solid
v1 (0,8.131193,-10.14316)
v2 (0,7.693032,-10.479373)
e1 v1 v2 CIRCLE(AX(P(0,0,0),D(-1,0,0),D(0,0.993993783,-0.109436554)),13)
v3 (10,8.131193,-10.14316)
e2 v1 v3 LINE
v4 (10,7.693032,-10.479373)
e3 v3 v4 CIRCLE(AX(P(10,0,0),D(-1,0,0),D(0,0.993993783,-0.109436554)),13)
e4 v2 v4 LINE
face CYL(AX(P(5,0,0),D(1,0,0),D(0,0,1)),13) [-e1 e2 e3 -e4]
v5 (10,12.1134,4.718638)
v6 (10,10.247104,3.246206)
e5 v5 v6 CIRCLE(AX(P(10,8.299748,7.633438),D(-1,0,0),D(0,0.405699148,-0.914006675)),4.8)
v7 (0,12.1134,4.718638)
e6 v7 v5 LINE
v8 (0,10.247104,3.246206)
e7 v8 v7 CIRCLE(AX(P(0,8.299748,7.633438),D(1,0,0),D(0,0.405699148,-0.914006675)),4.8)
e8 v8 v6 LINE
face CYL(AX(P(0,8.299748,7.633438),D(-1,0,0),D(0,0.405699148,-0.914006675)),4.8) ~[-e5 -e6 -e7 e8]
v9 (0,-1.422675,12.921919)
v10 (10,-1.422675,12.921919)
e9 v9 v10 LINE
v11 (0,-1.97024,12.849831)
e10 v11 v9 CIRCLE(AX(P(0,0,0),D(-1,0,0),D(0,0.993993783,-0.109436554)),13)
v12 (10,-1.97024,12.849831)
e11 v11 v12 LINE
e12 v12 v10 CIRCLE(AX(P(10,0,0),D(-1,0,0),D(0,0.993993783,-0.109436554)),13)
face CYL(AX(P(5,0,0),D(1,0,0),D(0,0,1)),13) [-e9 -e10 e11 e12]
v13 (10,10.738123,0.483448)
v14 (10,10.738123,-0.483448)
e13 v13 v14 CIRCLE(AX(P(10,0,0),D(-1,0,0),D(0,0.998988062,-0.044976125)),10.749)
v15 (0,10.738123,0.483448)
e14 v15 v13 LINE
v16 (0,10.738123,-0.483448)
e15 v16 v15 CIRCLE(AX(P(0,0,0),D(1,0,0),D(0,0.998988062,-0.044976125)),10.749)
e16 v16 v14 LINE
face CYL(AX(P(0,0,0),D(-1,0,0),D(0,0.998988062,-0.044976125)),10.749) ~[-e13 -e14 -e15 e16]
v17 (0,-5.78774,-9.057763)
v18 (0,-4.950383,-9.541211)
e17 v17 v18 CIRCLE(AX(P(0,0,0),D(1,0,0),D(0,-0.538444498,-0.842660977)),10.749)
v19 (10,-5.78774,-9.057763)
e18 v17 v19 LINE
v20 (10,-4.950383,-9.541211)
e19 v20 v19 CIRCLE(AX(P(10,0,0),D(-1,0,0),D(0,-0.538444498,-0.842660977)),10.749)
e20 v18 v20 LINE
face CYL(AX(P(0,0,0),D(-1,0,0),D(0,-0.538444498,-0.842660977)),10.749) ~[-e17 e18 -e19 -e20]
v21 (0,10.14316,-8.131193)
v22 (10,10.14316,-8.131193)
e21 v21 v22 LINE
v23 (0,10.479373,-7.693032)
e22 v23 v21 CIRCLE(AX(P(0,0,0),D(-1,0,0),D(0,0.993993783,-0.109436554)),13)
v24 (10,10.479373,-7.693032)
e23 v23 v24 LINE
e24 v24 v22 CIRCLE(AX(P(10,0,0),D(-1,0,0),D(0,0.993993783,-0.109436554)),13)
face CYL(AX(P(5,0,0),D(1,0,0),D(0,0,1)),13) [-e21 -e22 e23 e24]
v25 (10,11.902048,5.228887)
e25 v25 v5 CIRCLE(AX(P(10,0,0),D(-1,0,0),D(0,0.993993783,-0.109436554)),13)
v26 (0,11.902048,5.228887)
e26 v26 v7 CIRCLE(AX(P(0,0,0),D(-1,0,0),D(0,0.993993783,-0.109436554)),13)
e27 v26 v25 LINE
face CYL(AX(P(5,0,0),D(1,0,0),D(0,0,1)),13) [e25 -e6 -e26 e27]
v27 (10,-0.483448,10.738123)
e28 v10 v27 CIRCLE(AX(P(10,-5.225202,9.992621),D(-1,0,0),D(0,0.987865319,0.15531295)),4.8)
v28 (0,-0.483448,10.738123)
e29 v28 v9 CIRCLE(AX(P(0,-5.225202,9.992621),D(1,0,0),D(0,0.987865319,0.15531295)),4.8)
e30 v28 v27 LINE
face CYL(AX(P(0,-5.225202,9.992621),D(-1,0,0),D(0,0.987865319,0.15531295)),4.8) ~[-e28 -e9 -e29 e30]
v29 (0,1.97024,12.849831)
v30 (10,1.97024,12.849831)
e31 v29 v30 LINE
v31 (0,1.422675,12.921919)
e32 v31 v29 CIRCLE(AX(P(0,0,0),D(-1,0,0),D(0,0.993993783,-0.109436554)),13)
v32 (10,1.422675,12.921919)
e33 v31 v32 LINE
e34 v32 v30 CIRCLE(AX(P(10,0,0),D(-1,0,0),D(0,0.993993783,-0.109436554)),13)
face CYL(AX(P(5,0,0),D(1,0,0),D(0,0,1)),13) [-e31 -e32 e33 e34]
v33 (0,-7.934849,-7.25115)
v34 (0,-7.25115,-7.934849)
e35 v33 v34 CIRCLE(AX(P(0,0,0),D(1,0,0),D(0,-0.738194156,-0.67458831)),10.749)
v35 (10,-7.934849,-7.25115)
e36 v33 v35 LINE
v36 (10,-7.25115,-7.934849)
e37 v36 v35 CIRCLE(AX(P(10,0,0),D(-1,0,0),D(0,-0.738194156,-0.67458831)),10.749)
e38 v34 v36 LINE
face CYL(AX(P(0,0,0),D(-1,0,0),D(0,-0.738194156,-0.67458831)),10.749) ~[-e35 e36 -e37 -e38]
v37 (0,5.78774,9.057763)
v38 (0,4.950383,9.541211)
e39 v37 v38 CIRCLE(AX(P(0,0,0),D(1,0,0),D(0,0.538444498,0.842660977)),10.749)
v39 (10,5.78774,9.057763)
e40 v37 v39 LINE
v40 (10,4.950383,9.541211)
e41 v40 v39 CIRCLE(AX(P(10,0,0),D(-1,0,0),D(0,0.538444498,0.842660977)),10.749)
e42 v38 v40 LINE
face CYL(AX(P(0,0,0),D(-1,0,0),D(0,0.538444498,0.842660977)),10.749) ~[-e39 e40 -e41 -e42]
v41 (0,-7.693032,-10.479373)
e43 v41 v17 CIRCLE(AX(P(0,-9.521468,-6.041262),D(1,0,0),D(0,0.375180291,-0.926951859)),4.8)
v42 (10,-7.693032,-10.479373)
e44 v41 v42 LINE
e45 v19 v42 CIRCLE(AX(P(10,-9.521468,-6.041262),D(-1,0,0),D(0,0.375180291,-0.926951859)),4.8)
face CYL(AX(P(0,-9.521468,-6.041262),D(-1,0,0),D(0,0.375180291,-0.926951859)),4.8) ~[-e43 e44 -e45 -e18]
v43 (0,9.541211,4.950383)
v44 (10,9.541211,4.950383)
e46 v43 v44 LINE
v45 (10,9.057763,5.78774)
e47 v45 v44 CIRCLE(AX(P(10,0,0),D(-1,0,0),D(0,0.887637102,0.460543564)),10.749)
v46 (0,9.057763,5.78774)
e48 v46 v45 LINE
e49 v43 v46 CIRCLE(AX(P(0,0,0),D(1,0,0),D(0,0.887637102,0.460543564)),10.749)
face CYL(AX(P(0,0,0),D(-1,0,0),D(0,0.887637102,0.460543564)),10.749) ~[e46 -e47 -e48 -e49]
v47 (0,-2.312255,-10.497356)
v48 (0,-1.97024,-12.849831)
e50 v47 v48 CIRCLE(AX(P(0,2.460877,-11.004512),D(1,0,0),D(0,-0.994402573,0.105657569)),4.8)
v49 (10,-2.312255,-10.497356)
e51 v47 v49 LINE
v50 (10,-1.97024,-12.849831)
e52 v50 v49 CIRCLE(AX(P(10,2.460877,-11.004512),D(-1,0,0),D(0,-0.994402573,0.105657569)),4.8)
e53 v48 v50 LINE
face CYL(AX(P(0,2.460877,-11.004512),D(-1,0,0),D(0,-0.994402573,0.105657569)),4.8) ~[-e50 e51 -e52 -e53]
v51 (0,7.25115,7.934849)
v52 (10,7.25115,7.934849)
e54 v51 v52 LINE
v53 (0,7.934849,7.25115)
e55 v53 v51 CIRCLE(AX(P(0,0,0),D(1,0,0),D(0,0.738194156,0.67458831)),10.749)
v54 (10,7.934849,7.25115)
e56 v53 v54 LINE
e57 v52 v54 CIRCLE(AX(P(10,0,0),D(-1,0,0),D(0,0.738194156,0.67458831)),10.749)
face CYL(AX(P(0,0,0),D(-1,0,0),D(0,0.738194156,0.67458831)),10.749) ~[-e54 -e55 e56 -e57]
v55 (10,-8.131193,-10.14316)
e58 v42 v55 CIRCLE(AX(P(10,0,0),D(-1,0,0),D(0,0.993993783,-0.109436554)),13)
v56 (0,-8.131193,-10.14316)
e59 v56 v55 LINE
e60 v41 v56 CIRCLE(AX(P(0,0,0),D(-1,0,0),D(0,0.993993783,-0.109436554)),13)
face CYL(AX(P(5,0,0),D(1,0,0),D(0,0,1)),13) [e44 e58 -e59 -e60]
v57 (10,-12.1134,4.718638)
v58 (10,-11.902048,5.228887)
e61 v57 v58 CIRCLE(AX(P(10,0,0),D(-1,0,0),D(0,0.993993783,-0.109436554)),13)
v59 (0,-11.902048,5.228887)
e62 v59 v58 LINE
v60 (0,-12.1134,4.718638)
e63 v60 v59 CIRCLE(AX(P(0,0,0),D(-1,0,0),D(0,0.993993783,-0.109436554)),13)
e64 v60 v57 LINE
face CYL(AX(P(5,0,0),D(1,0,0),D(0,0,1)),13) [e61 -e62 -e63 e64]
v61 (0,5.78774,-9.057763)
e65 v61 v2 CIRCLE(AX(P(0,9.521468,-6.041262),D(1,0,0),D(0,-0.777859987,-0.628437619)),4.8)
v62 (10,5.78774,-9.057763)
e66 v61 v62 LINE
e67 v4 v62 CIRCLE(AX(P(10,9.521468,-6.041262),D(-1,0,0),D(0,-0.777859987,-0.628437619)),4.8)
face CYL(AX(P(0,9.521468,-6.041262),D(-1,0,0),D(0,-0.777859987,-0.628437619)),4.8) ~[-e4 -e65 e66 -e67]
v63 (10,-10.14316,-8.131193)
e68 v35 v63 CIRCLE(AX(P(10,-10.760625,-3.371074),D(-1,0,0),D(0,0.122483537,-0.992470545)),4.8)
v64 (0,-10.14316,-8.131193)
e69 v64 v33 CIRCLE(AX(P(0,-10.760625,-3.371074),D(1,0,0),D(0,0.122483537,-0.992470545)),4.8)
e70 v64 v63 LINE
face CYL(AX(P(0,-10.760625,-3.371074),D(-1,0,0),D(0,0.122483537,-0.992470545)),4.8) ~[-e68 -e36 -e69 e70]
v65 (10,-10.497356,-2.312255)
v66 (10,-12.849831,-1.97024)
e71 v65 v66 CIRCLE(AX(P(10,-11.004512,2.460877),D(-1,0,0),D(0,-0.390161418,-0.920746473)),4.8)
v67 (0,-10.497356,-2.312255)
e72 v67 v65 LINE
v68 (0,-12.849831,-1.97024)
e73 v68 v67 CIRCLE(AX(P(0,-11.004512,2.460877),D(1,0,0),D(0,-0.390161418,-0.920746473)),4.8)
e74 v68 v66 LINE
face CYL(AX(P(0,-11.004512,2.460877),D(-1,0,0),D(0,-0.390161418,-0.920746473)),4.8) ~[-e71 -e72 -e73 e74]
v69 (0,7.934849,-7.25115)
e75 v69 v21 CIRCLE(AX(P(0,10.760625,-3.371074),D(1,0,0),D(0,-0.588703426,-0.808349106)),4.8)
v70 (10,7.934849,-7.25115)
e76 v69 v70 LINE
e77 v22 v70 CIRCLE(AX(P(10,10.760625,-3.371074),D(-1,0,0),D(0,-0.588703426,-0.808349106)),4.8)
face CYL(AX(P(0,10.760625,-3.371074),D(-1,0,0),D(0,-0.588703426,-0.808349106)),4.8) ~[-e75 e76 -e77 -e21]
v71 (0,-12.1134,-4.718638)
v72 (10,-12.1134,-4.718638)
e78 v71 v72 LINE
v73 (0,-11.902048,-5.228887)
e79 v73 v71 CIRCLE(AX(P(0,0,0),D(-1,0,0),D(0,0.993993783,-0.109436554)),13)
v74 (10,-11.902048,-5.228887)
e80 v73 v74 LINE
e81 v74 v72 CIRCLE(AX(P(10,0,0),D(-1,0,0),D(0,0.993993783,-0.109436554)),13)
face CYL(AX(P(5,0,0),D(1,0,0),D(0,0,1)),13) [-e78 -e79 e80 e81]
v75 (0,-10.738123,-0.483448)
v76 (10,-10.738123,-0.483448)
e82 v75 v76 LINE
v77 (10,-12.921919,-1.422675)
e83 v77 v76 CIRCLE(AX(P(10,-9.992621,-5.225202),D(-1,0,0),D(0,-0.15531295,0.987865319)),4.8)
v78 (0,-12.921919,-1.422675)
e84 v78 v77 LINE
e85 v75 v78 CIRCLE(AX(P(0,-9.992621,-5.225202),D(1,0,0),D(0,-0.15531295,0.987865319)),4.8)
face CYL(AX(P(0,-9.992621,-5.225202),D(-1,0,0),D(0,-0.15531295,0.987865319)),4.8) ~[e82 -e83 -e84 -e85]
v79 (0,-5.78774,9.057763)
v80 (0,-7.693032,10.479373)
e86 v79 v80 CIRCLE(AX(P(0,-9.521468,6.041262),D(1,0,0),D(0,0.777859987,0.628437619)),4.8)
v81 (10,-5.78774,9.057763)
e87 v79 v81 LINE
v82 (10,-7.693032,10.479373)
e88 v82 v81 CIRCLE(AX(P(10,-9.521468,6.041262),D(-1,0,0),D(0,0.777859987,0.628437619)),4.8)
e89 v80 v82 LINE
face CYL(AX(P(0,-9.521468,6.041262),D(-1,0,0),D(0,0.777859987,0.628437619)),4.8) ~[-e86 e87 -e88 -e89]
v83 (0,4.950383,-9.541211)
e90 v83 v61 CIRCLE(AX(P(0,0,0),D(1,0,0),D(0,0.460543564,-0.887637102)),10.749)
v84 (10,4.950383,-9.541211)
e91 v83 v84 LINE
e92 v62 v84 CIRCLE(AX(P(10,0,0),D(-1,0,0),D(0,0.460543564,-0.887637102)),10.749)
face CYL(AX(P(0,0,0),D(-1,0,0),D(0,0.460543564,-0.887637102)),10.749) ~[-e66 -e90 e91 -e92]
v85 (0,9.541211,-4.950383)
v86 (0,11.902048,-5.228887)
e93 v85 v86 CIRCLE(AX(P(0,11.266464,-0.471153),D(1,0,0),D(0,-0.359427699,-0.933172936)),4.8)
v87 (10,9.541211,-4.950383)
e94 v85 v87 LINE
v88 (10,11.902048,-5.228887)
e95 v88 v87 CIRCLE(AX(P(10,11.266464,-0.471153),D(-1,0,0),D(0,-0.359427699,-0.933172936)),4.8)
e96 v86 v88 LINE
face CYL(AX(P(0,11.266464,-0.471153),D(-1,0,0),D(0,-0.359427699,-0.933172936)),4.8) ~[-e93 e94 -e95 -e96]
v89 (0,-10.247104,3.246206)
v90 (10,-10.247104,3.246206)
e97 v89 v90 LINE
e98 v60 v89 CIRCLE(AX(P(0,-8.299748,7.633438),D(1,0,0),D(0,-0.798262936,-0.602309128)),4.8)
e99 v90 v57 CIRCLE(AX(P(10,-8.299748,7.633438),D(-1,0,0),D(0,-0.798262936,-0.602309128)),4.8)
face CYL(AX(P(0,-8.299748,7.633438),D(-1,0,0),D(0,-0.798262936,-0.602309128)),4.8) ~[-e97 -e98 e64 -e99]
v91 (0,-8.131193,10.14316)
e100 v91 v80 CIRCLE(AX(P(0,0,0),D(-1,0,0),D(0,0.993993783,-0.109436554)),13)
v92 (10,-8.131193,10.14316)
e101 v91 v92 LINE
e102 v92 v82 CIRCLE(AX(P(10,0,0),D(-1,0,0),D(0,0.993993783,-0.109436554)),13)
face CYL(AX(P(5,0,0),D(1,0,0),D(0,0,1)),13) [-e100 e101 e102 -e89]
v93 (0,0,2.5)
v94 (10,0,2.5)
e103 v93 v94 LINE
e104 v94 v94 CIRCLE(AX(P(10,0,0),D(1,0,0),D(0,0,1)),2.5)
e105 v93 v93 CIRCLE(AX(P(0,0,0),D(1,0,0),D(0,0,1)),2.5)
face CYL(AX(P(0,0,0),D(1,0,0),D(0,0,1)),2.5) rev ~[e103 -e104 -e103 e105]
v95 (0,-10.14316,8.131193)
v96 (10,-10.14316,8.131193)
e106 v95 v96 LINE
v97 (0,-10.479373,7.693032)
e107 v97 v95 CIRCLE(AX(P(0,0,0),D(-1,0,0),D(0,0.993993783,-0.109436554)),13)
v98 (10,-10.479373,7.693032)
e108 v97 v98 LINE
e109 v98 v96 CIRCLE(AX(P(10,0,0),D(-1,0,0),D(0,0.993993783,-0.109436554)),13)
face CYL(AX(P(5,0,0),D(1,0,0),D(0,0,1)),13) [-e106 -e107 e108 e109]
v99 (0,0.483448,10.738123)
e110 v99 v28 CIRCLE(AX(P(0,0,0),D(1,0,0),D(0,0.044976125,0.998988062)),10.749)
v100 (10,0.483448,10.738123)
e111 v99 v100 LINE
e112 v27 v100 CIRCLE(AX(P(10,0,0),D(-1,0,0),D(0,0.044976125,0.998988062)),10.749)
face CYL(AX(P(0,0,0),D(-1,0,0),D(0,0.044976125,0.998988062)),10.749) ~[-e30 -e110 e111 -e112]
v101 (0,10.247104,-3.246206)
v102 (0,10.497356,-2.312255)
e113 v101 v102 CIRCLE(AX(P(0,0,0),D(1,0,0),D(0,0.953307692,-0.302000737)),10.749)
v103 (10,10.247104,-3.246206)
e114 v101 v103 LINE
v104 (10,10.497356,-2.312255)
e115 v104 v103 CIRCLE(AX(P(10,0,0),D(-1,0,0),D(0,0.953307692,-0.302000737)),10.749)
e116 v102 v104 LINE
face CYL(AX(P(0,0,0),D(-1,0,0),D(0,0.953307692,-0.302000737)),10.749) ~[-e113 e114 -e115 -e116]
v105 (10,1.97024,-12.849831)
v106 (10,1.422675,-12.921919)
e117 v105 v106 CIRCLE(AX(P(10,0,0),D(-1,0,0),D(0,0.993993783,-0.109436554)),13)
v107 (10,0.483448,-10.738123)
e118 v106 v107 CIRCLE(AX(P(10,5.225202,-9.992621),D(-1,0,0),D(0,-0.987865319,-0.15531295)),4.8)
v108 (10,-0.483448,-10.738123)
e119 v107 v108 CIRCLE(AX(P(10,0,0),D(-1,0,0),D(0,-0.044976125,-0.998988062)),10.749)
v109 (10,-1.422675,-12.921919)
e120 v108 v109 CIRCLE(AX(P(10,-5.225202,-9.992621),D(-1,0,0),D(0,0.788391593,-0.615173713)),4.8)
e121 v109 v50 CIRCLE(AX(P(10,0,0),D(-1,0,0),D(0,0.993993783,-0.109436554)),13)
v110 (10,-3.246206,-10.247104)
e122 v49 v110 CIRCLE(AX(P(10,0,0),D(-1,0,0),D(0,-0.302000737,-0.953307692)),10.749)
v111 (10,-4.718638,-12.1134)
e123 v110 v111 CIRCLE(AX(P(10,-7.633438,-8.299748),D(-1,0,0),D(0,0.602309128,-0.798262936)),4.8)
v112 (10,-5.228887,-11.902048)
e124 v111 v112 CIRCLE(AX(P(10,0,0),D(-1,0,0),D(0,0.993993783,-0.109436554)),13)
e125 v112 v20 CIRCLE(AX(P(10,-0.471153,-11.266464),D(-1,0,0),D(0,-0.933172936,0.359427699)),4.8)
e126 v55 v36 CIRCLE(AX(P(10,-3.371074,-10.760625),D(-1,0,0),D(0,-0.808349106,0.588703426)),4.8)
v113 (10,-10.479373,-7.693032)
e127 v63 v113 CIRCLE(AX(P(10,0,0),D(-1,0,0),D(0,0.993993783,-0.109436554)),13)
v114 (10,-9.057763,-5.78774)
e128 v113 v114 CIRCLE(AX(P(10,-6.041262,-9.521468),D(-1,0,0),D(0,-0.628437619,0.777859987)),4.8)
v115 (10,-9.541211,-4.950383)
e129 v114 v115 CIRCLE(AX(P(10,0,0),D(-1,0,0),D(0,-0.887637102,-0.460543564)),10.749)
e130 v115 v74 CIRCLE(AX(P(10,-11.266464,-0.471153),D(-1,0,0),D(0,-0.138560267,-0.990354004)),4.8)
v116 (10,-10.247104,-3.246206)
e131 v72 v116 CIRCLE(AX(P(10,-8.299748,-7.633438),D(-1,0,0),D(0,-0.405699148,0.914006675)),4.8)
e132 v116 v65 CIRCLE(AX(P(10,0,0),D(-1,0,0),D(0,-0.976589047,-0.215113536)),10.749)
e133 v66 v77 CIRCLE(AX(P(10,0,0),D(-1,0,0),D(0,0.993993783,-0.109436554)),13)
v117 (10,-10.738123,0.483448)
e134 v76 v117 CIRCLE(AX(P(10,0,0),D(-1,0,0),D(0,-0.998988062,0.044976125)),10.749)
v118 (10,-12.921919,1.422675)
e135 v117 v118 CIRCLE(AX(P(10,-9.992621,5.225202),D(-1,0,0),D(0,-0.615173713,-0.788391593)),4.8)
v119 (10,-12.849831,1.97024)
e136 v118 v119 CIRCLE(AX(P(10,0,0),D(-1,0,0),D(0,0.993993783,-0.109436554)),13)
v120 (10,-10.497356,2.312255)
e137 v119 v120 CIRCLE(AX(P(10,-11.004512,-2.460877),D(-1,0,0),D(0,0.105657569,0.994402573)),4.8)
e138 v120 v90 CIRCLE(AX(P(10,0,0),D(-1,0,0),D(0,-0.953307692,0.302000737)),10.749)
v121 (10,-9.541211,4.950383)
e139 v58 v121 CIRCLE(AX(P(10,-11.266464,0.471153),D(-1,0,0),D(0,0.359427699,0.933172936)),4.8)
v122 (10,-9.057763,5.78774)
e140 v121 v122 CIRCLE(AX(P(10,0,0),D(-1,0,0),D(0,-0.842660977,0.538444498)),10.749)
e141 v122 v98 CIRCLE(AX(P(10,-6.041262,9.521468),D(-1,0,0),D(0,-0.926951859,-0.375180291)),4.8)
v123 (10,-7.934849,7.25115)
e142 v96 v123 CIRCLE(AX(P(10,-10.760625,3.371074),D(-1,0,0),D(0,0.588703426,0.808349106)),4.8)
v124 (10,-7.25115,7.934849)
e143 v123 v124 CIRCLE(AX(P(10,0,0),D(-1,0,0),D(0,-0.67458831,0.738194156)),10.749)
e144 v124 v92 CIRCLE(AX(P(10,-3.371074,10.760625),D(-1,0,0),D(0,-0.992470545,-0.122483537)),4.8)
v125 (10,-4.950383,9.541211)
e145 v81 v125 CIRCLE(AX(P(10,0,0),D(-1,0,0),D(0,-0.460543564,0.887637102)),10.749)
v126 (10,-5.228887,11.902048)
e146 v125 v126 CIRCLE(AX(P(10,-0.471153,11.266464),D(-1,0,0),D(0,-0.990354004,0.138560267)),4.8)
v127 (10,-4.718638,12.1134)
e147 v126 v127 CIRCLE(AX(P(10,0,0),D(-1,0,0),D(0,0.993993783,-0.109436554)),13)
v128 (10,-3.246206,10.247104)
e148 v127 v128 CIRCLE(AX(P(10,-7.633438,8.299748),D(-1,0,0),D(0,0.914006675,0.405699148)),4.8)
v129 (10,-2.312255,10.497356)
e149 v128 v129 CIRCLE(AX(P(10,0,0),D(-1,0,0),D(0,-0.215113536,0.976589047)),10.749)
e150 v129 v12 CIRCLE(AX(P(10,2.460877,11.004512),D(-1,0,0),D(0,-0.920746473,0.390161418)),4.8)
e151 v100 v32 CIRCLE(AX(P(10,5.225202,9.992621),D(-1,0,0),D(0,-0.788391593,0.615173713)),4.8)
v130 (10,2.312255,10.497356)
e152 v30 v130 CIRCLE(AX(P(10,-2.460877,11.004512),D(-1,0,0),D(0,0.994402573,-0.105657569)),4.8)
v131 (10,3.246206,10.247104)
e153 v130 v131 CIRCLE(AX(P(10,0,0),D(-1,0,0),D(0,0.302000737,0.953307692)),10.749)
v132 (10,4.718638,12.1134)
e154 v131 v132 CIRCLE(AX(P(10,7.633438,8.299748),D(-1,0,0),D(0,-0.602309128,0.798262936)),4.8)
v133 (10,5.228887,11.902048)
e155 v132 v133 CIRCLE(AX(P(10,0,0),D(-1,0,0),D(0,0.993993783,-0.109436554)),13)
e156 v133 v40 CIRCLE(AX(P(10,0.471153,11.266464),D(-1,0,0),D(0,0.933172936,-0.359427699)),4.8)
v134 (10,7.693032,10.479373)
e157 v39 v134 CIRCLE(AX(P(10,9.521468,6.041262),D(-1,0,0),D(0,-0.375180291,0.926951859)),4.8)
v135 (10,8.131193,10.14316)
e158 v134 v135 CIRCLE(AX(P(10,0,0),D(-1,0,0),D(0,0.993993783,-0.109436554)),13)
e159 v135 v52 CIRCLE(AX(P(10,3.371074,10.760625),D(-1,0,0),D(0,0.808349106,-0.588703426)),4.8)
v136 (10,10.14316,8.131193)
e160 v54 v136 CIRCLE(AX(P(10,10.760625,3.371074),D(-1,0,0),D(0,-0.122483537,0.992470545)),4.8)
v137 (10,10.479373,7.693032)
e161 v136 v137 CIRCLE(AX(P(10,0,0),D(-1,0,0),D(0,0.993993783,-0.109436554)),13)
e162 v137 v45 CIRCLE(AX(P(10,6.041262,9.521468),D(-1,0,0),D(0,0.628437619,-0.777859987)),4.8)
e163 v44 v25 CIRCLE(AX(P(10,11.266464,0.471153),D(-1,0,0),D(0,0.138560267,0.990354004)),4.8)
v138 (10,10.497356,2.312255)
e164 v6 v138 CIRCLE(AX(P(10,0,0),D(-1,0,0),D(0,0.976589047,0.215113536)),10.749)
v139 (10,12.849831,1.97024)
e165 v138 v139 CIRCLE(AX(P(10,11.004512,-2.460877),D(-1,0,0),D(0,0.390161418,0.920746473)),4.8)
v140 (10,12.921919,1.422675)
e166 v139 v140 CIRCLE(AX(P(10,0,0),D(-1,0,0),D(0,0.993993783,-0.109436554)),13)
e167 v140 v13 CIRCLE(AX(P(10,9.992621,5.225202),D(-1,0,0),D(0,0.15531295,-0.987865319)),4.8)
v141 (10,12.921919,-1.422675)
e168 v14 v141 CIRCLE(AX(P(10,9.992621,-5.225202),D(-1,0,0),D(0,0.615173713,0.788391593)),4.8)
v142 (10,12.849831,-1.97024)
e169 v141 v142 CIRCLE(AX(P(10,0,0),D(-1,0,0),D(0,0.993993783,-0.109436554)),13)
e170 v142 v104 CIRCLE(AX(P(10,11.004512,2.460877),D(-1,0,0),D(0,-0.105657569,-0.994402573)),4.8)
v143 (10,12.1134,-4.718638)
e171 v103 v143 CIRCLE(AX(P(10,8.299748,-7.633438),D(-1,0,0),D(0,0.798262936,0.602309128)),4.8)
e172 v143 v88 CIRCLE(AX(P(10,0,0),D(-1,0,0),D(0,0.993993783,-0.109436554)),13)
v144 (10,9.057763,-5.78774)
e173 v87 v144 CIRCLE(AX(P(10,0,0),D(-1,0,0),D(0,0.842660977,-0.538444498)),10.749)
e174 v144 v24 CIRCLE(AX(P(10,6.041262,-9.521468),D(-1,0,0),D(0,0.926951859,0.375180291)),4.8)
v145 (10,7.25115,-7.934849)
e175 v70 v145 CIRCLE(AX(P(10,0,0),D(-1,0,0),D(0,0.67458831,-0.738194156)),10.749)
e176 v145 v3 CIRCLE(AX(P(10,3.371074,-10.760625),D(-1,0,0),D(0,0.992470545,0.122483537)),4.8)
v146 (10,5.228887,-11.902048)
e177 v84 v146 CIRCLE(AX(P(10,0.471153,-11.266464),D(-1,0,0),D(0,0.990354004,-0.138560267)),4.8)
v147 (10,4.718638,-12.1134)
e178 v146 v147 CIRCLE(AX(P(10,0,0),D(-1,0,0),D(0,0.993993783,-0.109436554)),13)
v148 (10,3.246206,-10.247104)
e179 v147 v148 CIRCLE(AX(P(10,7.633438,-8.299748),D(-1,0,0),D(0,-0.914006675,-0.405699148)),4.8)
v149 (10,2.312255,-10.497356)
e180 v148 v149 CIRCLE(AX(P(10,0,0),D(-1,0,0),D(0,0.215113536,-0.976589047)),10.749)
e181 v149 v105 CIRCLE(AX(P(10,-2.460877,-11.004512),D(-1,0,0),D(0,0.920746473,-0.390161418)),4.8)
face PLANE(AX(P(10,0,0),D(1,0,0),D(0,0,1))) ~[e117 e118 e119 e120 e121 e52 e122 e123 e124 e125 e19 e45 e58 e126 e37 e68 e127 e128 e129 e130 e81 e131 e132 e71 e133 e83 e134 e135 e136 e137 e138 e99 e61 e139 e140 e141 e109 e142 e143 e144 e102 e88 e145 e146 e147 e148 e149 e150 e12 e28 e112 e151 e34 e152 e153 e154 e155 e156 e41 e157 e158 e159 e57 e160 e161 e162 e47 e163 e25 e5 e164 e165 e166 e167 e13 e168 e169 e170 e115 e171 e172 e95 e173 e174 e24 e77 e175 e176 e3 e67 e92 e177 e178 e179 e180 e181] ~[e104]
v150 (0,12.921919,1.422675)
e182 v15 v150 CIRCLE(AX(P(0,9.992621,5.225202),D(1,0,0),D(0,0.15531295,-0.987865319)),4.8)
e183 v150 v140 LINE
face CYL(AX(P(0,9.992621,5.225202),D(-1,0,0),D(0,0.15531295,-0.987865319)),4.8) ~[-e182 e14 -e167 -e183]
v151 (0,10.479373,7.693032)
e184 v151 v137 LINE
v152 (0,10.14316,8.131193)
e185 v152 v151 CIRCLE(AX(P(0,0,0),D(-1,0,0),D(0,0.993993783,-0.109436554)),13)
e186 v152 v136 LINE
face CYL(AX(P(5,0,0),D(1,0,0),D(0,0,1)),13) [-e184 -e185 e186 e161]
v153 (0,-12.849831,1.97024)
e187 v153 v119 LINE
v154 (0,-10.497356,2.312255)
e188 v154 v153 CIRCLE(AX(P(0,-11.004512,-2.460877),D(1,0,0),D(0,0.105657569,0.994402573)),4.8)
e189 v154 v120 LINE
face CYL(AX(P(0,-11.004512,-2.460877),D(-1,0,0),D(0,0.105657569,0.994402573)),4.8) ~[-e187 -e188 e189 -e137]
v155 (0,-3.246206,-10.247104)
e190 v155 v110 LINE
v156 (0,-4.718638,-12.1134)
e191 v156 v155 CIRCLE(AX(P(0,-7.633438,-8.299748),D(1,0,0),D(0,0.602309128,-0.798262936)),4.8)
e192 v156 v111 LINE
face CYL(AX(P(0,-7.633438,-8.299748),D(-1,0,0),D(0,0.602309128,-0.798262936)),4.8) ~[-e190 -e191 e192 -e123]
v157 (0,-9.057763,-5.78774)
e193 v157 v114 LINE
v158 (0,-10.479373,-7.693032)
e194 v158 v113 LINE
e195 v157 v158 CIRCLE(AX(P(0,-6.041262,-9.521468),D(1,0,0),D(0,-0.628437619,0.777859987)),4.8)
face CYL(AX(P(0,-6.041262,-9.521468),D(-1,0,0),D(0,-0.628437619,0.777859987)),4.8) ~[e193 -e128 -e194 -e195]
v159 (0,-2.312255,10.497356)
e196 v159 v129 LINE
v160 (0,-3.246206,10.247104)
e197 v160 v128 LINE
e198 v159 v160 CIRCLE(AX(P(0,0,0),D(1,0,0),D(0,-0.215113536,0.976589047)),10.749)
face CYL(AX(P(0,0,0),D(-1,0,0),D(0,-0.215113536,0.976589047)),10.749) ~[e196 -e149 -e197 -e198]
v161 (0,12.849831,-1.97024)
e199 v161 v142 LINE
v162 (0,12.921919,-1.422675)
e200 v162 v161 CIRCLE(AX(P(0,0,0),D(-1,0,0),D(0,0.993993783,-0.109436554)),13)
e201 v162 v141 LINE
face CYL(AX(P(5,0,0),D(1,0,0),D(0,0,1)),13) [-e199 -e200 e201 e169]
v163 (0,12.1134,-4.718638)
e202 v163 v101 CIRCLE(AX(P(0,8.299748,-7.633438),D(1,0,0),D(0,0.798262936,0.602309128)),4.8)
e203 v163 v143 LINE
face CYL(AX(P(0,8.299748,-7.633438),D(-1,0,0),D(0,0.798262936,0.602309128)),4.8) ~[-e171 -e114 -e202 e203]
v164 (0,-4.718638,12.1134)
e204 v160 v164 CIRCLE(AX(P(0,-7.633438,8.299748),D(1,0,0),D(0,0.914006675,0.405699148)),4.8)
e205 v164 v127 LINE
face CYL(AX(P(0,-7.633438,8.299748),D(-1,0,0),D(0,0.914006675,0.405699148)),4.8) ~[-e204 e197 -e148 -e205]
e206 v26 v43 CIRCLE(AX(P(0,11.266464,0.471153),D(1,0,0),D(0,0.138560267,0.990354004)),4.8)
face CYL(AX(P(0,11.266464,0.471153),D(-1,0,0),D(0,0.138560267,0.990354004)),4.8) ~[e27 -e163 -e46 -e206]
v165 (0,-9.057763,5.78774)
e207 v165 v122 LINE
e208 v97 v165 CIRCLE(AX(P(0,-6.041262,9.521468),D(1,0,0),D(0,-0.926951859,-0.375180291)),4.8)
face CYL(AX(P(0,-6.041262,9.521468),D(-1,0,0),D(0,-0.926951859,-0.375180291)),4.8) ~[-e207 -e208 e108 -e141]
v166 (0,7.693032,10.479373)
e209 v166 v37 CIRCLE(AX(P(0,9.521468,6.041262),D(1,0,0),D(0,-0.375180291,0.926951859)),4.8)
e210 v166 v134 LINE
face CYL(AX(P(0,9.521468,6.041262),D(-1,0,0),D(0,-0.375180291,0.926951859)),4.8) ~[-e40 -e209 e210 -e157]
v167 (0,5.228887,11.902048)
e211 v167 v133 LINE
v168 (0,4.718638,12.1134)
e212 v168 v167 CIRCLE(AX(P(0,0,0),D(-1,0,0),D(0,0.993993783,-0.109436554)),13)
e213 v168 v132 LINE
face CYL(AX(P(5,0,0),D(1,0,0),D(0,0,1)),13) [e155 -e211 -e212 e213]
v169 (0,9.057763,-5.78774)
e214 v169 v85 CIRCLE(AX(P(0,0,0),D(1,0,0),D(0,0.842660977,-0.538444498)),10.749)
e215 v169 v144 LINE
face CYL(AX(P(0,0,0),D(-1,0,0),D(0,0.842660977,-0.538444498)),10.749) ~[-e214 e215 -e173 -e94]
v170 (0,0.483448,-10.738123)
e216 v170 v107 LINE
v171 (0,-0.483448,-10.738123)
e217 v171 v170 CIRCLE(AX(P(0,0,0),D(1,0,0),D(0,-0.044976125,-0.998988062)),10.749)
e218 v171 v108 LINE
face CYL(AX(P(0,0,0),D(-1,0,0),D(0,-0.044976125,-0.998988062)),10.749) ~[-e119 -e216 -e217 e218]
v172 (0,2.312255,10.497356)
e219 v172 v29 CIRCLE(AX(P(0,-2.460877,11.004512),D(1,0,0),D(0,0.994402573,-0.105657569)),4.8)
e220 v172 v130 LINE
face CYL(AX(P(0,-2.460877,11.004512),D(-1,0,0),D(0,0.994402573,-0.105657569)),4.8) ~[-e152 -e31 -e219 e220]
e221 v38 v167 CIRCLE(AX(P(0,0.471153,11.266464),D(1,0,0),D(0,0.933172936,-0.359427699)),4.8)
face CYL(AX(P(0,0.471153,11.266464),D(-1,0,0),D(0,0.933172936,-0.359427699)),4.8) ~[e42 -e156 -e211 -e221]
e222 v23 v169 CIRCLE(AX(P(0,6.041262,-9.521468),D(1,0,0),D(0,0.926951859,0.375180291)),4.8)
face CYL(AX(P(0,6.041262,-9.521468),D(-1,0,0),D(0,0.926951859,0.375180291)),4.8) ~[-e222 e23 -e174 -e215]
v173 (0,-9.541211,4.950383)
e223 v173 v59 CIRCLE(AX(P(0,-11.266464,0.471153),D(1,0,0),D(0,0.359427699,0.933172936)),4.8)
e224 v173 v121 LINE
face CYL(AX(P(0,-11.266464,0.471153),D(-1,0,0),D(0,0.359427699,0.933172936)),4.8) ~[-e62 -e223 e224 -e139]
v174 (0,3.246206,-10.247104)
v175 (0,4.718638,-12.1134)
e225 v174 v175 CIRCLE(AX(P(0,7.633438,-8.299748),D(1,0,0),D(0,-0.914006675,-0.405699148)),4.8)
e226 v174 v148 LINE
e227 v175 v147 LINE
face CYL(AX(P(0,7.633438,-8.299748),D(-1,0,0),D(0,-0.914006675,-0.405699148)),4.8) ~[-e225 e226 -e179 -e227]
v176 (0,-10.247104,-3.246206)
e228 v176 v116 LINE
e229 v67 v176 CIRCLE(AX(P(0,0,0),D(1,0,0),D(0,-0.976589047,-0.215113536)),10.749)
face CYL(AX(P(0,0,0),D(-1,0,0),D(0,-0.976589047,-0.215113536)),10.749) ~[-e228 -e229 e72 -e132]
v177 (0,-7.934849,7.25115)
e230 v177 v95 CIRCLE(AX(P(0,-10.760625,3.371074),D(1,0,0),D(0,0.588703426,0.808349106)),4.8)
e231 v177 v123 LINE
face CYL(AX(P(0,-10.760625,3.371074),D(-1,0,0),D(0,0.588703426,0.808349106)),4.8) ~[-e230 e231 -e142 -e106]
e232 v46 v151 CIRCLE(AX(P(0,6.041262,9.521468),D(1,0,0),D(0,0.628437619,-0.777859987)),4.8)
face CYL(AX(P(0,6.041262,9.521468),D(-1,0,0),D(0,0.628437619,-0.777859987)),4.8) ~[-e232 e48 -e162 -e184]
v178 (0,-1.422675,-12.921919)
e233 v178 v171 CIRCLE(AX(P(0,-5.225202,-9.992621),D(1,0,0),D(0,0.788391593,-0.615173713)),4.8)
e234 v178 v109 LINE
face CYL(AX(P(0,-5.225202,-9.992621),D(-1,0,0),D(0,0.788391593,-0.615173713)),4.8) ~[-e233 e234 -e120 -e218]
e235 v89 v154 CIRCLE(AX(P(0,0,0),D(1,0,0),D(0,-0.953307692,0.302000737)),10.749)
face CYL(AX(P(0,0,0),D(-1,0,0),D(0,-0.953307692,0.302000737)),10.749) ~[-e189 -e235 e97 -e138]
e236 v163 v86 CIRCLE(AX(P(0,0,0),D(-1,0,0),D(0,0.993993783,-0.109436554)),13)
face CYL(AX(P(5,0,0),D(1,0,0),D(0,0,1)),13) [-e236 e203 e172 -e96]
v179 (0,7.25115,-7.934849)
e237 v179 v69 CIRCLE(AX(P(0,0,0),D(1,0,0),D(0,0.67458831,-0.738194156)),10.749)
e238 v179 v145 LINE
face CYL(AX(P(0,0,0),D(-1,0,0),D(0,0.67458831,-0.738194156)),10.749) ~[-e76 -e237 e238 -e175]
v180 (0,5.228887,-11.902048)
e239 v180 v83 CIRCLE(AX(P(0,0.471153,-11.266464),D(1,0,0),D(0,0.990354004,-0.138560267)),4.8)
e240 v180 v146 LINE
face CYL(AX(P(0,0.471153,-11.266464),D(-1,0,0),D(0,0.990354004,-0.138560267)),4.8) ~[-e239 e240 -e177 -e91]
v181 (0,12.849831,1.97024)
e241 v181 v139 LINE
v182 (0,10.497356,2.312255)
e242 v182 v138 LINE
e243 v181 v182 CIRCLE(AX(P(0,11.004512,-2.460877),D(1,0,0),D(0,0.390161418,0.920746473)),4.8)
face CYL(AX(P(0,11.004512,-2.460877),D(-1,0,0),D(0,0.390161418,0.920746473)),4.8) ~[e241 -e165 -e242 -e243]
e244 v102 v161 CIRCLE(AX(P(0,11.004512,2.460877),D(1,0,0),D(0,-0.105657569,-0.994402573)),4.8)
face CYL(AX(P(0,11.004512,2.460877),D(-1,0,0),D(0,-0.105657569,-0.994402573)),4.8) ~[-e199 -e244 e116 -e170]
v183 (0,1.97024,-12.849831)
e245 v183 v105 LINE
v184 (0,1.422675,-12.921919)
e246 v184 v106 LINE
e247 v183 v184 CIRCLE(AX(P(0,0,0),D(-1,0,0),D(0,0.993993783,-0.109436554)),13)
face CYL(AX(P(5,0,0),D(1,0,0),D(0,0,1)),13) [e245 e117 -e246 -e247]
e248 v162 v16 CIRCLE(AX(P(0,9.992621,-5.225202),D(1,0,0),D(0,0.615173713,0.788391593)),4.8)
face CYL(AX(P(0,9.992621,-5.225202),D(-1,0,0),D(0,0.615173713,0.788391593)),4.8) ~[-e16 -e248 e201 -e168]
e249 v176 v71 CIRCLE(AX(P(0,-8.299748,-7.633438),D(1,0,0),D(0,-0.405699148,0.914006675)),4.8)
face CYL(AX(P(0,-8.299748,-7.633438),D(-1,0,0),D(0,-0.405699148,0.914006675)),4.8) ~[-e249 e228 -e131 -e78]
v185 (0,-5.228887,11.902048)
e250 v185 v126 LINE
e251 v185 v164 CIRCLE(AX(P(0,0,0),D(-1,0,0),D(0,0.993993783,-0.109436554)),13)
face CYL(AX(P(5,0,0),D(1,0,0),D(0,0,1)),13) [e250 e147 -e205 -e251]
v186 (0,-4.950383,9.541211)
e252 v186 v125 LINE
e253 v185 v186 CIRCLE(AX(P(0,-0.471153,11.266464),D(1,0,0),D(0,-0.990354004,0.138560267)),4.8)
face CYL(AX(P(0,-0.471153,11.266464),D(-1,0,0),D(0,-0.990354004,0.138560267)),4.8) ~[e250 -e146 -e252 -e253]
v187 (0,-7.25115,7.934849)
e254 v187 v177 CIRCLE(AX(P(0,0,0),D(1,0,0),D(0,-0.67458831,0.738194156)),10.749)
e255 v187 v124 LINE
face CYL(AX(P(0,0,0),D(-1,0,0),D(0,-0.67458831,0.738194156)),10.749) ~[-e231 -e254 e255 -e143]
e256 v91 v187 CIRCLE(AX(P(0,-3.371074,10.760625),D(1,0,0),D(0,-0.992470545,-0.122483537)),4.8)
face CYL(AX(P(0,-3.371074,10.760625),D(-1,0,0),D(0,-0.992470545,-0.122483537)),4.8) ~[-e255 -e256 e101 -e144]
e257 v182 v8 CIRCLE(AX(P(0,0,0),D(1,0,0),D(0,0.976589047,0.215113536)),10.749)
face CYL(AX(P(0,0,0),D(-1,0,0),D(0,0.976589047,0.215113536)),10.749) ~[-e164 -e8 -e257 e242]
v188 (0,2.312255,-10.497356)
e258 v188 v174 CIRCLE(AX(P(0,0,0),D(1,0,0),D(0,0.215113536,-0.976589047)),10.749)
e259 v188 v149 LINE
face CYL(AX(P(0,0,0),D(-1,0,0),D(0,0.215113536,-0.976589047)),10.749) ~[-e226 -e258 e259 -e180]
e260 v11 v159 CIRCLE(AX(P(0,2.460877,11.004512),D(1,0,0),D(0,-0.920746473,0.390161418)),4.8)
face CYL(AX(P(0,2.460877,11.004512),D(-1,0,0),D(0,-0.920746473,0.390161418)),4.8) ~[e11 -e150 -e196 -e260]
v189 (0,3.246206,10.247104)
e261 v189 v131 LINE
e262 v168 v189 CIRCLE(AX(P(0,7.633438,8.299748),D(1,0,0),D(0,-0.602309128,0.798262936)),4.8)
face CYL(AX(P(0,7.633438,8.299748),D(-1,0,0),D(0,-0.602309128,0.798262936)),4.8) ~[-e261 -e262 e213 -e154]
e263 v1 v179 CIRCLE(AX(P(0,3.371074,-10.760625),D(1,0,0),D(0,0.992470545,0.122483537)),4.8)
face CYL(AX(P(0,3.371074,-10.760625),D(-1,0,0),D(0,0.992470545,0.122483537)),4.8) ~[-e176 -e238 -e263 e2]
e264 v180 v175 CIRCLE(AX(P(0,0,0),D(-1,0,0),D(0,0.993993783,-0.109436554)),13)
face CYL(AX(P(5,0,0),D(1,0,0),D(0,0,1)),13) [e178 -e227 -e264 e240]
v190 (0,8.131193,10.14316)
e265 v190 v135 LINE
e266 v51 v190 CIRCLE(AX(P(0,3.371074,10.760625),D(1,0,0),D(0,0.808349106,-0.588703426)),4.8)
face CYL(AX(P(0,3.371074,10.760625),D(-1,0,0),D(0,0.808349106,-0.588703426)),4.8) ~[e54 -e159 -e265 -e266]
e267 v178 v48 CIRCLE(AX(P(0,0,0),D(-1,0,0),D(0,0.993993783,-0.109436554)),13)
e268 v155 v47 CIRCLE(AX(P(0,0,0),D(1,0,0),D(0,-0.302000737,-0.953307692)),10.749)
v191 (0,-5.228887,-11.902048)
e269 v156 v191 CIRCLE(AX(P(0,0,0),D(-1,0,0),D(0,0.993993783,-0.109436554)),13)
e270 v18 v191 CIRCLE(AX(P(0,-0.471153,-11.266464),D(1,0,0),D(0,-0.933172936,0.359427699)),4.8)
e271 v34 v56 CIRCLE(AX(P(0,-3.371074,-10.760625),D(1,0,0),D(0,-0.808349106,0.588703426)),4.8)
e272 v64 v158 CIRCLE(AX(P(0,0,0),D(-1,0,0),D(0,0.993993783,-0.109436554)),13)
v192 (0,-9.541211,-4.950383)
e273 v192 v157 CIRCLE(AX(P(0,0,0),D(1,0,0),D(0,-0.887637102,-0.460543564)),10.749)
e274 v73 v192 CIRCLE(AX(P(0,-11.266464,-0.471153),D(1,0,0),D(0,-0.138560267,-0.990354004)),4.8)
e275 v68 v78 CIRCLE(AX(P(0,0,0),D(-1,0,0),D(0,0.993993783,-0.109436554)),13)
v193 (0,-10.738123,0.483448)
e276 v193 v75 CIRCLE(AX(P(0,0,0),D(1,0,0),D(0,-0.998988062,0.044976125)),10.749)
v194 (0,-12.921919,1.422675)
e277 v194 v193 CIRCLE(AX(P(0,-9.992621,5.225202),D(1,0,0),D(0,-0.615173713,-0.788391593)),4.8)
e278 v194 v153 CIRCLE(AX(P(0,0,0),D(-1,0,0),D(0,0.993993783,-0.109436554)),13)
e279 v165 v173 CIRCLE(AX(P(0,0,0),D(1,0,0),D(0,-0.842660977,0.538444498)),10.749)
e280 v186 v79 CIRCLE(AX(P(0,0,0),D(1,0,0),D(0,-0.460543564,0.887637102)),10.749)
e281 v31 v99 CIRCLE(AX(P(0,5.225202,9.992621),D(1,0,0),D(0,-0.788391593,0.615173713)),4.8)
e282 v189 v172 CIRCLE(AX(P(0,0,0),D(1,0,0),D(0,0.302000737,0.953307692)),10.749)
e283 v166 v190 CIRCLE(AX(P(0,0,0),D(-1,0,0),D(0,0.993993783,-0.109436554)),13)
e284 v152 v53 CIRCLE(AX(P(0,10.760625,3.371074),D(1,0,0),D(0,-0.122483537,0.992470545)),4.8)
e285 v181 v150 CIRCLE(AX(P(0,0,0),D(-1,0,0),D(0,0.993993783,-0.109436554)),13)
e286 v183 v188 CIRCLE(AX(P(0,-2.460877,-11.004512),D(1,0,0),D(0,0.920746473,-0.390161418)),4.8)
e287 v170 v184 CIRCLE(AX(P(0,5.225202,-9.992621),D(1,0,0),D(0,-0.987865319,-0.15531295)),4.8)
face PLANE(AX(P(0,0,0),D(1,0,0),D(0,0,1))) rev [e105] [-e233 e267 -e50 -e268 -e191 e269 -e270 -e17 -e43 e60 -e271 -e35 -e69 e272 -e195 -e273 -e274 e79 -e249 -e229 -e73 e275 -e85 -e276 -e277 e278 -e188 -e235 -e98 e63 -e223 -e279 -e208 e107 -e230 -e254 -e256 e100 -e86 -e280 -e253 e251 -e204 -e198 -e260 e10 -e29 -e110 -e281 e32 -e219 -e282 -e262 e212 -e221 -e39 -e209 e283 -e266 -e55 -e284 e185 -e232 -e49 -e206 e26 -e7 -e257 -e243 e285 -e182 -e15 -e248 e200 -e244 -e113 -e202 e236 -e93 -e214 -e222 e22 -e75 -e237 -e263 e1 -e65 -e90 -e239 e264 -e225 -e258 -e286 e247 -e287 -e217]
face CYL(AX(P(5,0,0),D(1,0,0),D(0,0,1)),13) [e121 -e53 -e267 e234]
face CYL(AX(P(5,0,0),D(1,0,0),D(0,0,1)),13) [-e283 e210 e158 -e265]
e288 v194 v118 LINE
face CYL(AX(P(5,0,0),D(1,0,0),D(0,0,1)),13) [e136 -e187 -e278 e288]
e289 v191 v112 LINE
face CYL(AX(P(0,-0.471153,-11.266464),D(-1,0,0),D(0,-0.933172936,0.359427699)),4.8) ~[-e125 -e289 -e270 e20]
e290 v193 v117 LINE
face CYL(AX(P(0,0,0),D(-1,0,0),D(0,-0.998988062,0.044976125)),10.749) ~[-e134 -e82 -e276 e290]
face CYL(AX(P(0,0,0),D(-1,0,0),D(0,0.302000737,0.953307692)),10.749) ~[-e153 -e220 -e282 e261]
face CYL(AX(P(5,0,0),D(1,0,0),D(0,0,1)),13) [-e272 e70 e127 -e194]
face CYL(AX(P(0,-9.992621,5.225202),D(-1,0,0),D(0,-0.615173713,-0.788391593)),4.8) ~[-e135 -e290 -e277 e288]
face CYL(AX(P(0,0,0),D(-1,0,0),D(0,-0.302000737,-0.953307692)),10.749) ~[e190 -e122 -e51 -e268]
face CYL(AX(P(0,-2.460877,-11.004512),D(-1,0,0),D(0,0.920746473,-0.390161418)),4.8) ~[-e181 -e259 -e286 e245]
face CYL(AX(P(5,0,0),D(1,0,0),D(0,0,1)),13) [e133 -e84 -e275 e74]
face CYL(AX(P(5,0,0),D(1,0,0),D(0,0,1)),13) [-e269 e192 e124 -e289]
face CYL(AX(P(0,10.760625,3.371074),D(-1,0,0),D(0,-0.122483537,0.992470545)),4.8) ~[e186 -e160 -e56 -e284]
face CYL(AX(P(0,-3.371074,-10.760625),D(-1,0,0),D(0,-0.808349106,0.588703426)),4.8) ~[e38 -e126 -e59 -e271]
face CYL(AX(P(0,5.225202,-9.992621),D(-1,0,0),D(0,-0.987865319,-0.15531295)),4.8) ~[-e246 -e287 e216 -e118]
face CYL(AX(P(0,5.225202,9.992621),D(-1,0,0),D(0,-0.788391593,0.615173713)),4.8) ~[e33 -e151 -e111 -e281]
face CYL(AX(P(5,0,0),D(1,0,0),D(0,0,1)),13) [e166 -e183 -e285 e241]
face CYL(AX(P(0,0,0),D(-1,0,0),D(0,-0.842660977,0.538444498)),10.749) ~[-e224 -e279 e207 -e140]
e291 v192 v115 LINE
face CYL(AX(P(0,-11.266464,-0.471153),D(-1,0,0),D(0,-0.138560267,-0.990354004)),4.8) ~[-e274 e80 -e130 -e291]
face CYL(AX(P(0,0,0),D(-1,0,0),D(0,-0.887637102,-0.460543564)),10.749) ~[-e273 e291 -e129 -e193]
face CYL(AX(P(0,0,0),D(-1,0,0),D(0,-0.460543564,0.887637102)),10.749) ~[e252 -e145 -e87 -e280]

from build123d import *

# Parameters (mm, degrees)
BASPROSKE_W     = 10
BASPROSKE_H     = 13
TOOTHCUT_DEPTH  = 21.928449536
TEETHCUTS_COUNT = 24
TEETHCUTS_ANGLE = 345
BORSKE_R        = 2.5
BORE_DEPTH      = 50.0000508


with BuildPart() as part:
    # BasProSke → Base-Revolve (revolve)
    with BuildSketch(Plane(origin=(0, 0, 0), x_dir=(1, 0, 0), z_dir=(0, 1, 0)), mode=Mode.PRIVATE) as base_revolve_sk:
        with Locations((5, 6.5)):
            Rectangle(BASPROSKE_W, BASPROSKE_H)
    revolve(base_revolve_sk.sketch.rotate(Axis((-10, 0, 0), (1, 0, 0)), 180), axis=Axis((-10, 0, 0), (1, 0, 0)))

    # TooCutSke → ToothCut (cut, through all)
    with BuildSketch(Plane(origin=(0, 0, 0), x_dir=(0, 0, -1), z_dir=(1, 0, 0))):
        with BuildLine():
            ThreePointArc((0.483448384, 10.738122679), (0, 10.749), (-0.483448384, 10.738122679))
            ThreePointArc((-0.483448384, 10.738122679), (-0.821636462, 11.902754369), (-1.44092227, 12.945454344))
            ThreePointArc((-1.44092227, 12.945454344), (0, 13.0254), (1.44092227, 12.945454344))
            ThreePointArc((1.44092227, 12.945454344), (0.821636462, 11.902754369), (0.483448384, 10.738122679))
        make_face()
    toothcut = extrude(amount=TOOTHCUT_DEPTH, mode=Mode.SUBTRACT)

    # TeethCuts: ToothCut ×24 about axis
    teethcuts_axis = Axis((-10, 0, 0), (1, 0, 0))
    for i in range(1, TEETHCUTS_COUNT):
        add(toothcut.rotate(teethcuts_axis, i * TEETHCUTS_ANGLE / (TEETHCUTS_COUNT - 1)), mode=Mode.SUBTRACT)

    # BorSke → Bore (cut, symmetric)
    with BuildSketch(Plane(origin=(0, 0, 0), x_dir=(0, 0, -1), z_dir=(1, 0, 0))):
        with Locations(Location((0, 0, 0), (0, 0, 180))):
            Circle(BORSKE_R)
    extrude(amount=BORE_DEPTH, both=True, mode=Mode.SUBTRACT)


solid = part.part
